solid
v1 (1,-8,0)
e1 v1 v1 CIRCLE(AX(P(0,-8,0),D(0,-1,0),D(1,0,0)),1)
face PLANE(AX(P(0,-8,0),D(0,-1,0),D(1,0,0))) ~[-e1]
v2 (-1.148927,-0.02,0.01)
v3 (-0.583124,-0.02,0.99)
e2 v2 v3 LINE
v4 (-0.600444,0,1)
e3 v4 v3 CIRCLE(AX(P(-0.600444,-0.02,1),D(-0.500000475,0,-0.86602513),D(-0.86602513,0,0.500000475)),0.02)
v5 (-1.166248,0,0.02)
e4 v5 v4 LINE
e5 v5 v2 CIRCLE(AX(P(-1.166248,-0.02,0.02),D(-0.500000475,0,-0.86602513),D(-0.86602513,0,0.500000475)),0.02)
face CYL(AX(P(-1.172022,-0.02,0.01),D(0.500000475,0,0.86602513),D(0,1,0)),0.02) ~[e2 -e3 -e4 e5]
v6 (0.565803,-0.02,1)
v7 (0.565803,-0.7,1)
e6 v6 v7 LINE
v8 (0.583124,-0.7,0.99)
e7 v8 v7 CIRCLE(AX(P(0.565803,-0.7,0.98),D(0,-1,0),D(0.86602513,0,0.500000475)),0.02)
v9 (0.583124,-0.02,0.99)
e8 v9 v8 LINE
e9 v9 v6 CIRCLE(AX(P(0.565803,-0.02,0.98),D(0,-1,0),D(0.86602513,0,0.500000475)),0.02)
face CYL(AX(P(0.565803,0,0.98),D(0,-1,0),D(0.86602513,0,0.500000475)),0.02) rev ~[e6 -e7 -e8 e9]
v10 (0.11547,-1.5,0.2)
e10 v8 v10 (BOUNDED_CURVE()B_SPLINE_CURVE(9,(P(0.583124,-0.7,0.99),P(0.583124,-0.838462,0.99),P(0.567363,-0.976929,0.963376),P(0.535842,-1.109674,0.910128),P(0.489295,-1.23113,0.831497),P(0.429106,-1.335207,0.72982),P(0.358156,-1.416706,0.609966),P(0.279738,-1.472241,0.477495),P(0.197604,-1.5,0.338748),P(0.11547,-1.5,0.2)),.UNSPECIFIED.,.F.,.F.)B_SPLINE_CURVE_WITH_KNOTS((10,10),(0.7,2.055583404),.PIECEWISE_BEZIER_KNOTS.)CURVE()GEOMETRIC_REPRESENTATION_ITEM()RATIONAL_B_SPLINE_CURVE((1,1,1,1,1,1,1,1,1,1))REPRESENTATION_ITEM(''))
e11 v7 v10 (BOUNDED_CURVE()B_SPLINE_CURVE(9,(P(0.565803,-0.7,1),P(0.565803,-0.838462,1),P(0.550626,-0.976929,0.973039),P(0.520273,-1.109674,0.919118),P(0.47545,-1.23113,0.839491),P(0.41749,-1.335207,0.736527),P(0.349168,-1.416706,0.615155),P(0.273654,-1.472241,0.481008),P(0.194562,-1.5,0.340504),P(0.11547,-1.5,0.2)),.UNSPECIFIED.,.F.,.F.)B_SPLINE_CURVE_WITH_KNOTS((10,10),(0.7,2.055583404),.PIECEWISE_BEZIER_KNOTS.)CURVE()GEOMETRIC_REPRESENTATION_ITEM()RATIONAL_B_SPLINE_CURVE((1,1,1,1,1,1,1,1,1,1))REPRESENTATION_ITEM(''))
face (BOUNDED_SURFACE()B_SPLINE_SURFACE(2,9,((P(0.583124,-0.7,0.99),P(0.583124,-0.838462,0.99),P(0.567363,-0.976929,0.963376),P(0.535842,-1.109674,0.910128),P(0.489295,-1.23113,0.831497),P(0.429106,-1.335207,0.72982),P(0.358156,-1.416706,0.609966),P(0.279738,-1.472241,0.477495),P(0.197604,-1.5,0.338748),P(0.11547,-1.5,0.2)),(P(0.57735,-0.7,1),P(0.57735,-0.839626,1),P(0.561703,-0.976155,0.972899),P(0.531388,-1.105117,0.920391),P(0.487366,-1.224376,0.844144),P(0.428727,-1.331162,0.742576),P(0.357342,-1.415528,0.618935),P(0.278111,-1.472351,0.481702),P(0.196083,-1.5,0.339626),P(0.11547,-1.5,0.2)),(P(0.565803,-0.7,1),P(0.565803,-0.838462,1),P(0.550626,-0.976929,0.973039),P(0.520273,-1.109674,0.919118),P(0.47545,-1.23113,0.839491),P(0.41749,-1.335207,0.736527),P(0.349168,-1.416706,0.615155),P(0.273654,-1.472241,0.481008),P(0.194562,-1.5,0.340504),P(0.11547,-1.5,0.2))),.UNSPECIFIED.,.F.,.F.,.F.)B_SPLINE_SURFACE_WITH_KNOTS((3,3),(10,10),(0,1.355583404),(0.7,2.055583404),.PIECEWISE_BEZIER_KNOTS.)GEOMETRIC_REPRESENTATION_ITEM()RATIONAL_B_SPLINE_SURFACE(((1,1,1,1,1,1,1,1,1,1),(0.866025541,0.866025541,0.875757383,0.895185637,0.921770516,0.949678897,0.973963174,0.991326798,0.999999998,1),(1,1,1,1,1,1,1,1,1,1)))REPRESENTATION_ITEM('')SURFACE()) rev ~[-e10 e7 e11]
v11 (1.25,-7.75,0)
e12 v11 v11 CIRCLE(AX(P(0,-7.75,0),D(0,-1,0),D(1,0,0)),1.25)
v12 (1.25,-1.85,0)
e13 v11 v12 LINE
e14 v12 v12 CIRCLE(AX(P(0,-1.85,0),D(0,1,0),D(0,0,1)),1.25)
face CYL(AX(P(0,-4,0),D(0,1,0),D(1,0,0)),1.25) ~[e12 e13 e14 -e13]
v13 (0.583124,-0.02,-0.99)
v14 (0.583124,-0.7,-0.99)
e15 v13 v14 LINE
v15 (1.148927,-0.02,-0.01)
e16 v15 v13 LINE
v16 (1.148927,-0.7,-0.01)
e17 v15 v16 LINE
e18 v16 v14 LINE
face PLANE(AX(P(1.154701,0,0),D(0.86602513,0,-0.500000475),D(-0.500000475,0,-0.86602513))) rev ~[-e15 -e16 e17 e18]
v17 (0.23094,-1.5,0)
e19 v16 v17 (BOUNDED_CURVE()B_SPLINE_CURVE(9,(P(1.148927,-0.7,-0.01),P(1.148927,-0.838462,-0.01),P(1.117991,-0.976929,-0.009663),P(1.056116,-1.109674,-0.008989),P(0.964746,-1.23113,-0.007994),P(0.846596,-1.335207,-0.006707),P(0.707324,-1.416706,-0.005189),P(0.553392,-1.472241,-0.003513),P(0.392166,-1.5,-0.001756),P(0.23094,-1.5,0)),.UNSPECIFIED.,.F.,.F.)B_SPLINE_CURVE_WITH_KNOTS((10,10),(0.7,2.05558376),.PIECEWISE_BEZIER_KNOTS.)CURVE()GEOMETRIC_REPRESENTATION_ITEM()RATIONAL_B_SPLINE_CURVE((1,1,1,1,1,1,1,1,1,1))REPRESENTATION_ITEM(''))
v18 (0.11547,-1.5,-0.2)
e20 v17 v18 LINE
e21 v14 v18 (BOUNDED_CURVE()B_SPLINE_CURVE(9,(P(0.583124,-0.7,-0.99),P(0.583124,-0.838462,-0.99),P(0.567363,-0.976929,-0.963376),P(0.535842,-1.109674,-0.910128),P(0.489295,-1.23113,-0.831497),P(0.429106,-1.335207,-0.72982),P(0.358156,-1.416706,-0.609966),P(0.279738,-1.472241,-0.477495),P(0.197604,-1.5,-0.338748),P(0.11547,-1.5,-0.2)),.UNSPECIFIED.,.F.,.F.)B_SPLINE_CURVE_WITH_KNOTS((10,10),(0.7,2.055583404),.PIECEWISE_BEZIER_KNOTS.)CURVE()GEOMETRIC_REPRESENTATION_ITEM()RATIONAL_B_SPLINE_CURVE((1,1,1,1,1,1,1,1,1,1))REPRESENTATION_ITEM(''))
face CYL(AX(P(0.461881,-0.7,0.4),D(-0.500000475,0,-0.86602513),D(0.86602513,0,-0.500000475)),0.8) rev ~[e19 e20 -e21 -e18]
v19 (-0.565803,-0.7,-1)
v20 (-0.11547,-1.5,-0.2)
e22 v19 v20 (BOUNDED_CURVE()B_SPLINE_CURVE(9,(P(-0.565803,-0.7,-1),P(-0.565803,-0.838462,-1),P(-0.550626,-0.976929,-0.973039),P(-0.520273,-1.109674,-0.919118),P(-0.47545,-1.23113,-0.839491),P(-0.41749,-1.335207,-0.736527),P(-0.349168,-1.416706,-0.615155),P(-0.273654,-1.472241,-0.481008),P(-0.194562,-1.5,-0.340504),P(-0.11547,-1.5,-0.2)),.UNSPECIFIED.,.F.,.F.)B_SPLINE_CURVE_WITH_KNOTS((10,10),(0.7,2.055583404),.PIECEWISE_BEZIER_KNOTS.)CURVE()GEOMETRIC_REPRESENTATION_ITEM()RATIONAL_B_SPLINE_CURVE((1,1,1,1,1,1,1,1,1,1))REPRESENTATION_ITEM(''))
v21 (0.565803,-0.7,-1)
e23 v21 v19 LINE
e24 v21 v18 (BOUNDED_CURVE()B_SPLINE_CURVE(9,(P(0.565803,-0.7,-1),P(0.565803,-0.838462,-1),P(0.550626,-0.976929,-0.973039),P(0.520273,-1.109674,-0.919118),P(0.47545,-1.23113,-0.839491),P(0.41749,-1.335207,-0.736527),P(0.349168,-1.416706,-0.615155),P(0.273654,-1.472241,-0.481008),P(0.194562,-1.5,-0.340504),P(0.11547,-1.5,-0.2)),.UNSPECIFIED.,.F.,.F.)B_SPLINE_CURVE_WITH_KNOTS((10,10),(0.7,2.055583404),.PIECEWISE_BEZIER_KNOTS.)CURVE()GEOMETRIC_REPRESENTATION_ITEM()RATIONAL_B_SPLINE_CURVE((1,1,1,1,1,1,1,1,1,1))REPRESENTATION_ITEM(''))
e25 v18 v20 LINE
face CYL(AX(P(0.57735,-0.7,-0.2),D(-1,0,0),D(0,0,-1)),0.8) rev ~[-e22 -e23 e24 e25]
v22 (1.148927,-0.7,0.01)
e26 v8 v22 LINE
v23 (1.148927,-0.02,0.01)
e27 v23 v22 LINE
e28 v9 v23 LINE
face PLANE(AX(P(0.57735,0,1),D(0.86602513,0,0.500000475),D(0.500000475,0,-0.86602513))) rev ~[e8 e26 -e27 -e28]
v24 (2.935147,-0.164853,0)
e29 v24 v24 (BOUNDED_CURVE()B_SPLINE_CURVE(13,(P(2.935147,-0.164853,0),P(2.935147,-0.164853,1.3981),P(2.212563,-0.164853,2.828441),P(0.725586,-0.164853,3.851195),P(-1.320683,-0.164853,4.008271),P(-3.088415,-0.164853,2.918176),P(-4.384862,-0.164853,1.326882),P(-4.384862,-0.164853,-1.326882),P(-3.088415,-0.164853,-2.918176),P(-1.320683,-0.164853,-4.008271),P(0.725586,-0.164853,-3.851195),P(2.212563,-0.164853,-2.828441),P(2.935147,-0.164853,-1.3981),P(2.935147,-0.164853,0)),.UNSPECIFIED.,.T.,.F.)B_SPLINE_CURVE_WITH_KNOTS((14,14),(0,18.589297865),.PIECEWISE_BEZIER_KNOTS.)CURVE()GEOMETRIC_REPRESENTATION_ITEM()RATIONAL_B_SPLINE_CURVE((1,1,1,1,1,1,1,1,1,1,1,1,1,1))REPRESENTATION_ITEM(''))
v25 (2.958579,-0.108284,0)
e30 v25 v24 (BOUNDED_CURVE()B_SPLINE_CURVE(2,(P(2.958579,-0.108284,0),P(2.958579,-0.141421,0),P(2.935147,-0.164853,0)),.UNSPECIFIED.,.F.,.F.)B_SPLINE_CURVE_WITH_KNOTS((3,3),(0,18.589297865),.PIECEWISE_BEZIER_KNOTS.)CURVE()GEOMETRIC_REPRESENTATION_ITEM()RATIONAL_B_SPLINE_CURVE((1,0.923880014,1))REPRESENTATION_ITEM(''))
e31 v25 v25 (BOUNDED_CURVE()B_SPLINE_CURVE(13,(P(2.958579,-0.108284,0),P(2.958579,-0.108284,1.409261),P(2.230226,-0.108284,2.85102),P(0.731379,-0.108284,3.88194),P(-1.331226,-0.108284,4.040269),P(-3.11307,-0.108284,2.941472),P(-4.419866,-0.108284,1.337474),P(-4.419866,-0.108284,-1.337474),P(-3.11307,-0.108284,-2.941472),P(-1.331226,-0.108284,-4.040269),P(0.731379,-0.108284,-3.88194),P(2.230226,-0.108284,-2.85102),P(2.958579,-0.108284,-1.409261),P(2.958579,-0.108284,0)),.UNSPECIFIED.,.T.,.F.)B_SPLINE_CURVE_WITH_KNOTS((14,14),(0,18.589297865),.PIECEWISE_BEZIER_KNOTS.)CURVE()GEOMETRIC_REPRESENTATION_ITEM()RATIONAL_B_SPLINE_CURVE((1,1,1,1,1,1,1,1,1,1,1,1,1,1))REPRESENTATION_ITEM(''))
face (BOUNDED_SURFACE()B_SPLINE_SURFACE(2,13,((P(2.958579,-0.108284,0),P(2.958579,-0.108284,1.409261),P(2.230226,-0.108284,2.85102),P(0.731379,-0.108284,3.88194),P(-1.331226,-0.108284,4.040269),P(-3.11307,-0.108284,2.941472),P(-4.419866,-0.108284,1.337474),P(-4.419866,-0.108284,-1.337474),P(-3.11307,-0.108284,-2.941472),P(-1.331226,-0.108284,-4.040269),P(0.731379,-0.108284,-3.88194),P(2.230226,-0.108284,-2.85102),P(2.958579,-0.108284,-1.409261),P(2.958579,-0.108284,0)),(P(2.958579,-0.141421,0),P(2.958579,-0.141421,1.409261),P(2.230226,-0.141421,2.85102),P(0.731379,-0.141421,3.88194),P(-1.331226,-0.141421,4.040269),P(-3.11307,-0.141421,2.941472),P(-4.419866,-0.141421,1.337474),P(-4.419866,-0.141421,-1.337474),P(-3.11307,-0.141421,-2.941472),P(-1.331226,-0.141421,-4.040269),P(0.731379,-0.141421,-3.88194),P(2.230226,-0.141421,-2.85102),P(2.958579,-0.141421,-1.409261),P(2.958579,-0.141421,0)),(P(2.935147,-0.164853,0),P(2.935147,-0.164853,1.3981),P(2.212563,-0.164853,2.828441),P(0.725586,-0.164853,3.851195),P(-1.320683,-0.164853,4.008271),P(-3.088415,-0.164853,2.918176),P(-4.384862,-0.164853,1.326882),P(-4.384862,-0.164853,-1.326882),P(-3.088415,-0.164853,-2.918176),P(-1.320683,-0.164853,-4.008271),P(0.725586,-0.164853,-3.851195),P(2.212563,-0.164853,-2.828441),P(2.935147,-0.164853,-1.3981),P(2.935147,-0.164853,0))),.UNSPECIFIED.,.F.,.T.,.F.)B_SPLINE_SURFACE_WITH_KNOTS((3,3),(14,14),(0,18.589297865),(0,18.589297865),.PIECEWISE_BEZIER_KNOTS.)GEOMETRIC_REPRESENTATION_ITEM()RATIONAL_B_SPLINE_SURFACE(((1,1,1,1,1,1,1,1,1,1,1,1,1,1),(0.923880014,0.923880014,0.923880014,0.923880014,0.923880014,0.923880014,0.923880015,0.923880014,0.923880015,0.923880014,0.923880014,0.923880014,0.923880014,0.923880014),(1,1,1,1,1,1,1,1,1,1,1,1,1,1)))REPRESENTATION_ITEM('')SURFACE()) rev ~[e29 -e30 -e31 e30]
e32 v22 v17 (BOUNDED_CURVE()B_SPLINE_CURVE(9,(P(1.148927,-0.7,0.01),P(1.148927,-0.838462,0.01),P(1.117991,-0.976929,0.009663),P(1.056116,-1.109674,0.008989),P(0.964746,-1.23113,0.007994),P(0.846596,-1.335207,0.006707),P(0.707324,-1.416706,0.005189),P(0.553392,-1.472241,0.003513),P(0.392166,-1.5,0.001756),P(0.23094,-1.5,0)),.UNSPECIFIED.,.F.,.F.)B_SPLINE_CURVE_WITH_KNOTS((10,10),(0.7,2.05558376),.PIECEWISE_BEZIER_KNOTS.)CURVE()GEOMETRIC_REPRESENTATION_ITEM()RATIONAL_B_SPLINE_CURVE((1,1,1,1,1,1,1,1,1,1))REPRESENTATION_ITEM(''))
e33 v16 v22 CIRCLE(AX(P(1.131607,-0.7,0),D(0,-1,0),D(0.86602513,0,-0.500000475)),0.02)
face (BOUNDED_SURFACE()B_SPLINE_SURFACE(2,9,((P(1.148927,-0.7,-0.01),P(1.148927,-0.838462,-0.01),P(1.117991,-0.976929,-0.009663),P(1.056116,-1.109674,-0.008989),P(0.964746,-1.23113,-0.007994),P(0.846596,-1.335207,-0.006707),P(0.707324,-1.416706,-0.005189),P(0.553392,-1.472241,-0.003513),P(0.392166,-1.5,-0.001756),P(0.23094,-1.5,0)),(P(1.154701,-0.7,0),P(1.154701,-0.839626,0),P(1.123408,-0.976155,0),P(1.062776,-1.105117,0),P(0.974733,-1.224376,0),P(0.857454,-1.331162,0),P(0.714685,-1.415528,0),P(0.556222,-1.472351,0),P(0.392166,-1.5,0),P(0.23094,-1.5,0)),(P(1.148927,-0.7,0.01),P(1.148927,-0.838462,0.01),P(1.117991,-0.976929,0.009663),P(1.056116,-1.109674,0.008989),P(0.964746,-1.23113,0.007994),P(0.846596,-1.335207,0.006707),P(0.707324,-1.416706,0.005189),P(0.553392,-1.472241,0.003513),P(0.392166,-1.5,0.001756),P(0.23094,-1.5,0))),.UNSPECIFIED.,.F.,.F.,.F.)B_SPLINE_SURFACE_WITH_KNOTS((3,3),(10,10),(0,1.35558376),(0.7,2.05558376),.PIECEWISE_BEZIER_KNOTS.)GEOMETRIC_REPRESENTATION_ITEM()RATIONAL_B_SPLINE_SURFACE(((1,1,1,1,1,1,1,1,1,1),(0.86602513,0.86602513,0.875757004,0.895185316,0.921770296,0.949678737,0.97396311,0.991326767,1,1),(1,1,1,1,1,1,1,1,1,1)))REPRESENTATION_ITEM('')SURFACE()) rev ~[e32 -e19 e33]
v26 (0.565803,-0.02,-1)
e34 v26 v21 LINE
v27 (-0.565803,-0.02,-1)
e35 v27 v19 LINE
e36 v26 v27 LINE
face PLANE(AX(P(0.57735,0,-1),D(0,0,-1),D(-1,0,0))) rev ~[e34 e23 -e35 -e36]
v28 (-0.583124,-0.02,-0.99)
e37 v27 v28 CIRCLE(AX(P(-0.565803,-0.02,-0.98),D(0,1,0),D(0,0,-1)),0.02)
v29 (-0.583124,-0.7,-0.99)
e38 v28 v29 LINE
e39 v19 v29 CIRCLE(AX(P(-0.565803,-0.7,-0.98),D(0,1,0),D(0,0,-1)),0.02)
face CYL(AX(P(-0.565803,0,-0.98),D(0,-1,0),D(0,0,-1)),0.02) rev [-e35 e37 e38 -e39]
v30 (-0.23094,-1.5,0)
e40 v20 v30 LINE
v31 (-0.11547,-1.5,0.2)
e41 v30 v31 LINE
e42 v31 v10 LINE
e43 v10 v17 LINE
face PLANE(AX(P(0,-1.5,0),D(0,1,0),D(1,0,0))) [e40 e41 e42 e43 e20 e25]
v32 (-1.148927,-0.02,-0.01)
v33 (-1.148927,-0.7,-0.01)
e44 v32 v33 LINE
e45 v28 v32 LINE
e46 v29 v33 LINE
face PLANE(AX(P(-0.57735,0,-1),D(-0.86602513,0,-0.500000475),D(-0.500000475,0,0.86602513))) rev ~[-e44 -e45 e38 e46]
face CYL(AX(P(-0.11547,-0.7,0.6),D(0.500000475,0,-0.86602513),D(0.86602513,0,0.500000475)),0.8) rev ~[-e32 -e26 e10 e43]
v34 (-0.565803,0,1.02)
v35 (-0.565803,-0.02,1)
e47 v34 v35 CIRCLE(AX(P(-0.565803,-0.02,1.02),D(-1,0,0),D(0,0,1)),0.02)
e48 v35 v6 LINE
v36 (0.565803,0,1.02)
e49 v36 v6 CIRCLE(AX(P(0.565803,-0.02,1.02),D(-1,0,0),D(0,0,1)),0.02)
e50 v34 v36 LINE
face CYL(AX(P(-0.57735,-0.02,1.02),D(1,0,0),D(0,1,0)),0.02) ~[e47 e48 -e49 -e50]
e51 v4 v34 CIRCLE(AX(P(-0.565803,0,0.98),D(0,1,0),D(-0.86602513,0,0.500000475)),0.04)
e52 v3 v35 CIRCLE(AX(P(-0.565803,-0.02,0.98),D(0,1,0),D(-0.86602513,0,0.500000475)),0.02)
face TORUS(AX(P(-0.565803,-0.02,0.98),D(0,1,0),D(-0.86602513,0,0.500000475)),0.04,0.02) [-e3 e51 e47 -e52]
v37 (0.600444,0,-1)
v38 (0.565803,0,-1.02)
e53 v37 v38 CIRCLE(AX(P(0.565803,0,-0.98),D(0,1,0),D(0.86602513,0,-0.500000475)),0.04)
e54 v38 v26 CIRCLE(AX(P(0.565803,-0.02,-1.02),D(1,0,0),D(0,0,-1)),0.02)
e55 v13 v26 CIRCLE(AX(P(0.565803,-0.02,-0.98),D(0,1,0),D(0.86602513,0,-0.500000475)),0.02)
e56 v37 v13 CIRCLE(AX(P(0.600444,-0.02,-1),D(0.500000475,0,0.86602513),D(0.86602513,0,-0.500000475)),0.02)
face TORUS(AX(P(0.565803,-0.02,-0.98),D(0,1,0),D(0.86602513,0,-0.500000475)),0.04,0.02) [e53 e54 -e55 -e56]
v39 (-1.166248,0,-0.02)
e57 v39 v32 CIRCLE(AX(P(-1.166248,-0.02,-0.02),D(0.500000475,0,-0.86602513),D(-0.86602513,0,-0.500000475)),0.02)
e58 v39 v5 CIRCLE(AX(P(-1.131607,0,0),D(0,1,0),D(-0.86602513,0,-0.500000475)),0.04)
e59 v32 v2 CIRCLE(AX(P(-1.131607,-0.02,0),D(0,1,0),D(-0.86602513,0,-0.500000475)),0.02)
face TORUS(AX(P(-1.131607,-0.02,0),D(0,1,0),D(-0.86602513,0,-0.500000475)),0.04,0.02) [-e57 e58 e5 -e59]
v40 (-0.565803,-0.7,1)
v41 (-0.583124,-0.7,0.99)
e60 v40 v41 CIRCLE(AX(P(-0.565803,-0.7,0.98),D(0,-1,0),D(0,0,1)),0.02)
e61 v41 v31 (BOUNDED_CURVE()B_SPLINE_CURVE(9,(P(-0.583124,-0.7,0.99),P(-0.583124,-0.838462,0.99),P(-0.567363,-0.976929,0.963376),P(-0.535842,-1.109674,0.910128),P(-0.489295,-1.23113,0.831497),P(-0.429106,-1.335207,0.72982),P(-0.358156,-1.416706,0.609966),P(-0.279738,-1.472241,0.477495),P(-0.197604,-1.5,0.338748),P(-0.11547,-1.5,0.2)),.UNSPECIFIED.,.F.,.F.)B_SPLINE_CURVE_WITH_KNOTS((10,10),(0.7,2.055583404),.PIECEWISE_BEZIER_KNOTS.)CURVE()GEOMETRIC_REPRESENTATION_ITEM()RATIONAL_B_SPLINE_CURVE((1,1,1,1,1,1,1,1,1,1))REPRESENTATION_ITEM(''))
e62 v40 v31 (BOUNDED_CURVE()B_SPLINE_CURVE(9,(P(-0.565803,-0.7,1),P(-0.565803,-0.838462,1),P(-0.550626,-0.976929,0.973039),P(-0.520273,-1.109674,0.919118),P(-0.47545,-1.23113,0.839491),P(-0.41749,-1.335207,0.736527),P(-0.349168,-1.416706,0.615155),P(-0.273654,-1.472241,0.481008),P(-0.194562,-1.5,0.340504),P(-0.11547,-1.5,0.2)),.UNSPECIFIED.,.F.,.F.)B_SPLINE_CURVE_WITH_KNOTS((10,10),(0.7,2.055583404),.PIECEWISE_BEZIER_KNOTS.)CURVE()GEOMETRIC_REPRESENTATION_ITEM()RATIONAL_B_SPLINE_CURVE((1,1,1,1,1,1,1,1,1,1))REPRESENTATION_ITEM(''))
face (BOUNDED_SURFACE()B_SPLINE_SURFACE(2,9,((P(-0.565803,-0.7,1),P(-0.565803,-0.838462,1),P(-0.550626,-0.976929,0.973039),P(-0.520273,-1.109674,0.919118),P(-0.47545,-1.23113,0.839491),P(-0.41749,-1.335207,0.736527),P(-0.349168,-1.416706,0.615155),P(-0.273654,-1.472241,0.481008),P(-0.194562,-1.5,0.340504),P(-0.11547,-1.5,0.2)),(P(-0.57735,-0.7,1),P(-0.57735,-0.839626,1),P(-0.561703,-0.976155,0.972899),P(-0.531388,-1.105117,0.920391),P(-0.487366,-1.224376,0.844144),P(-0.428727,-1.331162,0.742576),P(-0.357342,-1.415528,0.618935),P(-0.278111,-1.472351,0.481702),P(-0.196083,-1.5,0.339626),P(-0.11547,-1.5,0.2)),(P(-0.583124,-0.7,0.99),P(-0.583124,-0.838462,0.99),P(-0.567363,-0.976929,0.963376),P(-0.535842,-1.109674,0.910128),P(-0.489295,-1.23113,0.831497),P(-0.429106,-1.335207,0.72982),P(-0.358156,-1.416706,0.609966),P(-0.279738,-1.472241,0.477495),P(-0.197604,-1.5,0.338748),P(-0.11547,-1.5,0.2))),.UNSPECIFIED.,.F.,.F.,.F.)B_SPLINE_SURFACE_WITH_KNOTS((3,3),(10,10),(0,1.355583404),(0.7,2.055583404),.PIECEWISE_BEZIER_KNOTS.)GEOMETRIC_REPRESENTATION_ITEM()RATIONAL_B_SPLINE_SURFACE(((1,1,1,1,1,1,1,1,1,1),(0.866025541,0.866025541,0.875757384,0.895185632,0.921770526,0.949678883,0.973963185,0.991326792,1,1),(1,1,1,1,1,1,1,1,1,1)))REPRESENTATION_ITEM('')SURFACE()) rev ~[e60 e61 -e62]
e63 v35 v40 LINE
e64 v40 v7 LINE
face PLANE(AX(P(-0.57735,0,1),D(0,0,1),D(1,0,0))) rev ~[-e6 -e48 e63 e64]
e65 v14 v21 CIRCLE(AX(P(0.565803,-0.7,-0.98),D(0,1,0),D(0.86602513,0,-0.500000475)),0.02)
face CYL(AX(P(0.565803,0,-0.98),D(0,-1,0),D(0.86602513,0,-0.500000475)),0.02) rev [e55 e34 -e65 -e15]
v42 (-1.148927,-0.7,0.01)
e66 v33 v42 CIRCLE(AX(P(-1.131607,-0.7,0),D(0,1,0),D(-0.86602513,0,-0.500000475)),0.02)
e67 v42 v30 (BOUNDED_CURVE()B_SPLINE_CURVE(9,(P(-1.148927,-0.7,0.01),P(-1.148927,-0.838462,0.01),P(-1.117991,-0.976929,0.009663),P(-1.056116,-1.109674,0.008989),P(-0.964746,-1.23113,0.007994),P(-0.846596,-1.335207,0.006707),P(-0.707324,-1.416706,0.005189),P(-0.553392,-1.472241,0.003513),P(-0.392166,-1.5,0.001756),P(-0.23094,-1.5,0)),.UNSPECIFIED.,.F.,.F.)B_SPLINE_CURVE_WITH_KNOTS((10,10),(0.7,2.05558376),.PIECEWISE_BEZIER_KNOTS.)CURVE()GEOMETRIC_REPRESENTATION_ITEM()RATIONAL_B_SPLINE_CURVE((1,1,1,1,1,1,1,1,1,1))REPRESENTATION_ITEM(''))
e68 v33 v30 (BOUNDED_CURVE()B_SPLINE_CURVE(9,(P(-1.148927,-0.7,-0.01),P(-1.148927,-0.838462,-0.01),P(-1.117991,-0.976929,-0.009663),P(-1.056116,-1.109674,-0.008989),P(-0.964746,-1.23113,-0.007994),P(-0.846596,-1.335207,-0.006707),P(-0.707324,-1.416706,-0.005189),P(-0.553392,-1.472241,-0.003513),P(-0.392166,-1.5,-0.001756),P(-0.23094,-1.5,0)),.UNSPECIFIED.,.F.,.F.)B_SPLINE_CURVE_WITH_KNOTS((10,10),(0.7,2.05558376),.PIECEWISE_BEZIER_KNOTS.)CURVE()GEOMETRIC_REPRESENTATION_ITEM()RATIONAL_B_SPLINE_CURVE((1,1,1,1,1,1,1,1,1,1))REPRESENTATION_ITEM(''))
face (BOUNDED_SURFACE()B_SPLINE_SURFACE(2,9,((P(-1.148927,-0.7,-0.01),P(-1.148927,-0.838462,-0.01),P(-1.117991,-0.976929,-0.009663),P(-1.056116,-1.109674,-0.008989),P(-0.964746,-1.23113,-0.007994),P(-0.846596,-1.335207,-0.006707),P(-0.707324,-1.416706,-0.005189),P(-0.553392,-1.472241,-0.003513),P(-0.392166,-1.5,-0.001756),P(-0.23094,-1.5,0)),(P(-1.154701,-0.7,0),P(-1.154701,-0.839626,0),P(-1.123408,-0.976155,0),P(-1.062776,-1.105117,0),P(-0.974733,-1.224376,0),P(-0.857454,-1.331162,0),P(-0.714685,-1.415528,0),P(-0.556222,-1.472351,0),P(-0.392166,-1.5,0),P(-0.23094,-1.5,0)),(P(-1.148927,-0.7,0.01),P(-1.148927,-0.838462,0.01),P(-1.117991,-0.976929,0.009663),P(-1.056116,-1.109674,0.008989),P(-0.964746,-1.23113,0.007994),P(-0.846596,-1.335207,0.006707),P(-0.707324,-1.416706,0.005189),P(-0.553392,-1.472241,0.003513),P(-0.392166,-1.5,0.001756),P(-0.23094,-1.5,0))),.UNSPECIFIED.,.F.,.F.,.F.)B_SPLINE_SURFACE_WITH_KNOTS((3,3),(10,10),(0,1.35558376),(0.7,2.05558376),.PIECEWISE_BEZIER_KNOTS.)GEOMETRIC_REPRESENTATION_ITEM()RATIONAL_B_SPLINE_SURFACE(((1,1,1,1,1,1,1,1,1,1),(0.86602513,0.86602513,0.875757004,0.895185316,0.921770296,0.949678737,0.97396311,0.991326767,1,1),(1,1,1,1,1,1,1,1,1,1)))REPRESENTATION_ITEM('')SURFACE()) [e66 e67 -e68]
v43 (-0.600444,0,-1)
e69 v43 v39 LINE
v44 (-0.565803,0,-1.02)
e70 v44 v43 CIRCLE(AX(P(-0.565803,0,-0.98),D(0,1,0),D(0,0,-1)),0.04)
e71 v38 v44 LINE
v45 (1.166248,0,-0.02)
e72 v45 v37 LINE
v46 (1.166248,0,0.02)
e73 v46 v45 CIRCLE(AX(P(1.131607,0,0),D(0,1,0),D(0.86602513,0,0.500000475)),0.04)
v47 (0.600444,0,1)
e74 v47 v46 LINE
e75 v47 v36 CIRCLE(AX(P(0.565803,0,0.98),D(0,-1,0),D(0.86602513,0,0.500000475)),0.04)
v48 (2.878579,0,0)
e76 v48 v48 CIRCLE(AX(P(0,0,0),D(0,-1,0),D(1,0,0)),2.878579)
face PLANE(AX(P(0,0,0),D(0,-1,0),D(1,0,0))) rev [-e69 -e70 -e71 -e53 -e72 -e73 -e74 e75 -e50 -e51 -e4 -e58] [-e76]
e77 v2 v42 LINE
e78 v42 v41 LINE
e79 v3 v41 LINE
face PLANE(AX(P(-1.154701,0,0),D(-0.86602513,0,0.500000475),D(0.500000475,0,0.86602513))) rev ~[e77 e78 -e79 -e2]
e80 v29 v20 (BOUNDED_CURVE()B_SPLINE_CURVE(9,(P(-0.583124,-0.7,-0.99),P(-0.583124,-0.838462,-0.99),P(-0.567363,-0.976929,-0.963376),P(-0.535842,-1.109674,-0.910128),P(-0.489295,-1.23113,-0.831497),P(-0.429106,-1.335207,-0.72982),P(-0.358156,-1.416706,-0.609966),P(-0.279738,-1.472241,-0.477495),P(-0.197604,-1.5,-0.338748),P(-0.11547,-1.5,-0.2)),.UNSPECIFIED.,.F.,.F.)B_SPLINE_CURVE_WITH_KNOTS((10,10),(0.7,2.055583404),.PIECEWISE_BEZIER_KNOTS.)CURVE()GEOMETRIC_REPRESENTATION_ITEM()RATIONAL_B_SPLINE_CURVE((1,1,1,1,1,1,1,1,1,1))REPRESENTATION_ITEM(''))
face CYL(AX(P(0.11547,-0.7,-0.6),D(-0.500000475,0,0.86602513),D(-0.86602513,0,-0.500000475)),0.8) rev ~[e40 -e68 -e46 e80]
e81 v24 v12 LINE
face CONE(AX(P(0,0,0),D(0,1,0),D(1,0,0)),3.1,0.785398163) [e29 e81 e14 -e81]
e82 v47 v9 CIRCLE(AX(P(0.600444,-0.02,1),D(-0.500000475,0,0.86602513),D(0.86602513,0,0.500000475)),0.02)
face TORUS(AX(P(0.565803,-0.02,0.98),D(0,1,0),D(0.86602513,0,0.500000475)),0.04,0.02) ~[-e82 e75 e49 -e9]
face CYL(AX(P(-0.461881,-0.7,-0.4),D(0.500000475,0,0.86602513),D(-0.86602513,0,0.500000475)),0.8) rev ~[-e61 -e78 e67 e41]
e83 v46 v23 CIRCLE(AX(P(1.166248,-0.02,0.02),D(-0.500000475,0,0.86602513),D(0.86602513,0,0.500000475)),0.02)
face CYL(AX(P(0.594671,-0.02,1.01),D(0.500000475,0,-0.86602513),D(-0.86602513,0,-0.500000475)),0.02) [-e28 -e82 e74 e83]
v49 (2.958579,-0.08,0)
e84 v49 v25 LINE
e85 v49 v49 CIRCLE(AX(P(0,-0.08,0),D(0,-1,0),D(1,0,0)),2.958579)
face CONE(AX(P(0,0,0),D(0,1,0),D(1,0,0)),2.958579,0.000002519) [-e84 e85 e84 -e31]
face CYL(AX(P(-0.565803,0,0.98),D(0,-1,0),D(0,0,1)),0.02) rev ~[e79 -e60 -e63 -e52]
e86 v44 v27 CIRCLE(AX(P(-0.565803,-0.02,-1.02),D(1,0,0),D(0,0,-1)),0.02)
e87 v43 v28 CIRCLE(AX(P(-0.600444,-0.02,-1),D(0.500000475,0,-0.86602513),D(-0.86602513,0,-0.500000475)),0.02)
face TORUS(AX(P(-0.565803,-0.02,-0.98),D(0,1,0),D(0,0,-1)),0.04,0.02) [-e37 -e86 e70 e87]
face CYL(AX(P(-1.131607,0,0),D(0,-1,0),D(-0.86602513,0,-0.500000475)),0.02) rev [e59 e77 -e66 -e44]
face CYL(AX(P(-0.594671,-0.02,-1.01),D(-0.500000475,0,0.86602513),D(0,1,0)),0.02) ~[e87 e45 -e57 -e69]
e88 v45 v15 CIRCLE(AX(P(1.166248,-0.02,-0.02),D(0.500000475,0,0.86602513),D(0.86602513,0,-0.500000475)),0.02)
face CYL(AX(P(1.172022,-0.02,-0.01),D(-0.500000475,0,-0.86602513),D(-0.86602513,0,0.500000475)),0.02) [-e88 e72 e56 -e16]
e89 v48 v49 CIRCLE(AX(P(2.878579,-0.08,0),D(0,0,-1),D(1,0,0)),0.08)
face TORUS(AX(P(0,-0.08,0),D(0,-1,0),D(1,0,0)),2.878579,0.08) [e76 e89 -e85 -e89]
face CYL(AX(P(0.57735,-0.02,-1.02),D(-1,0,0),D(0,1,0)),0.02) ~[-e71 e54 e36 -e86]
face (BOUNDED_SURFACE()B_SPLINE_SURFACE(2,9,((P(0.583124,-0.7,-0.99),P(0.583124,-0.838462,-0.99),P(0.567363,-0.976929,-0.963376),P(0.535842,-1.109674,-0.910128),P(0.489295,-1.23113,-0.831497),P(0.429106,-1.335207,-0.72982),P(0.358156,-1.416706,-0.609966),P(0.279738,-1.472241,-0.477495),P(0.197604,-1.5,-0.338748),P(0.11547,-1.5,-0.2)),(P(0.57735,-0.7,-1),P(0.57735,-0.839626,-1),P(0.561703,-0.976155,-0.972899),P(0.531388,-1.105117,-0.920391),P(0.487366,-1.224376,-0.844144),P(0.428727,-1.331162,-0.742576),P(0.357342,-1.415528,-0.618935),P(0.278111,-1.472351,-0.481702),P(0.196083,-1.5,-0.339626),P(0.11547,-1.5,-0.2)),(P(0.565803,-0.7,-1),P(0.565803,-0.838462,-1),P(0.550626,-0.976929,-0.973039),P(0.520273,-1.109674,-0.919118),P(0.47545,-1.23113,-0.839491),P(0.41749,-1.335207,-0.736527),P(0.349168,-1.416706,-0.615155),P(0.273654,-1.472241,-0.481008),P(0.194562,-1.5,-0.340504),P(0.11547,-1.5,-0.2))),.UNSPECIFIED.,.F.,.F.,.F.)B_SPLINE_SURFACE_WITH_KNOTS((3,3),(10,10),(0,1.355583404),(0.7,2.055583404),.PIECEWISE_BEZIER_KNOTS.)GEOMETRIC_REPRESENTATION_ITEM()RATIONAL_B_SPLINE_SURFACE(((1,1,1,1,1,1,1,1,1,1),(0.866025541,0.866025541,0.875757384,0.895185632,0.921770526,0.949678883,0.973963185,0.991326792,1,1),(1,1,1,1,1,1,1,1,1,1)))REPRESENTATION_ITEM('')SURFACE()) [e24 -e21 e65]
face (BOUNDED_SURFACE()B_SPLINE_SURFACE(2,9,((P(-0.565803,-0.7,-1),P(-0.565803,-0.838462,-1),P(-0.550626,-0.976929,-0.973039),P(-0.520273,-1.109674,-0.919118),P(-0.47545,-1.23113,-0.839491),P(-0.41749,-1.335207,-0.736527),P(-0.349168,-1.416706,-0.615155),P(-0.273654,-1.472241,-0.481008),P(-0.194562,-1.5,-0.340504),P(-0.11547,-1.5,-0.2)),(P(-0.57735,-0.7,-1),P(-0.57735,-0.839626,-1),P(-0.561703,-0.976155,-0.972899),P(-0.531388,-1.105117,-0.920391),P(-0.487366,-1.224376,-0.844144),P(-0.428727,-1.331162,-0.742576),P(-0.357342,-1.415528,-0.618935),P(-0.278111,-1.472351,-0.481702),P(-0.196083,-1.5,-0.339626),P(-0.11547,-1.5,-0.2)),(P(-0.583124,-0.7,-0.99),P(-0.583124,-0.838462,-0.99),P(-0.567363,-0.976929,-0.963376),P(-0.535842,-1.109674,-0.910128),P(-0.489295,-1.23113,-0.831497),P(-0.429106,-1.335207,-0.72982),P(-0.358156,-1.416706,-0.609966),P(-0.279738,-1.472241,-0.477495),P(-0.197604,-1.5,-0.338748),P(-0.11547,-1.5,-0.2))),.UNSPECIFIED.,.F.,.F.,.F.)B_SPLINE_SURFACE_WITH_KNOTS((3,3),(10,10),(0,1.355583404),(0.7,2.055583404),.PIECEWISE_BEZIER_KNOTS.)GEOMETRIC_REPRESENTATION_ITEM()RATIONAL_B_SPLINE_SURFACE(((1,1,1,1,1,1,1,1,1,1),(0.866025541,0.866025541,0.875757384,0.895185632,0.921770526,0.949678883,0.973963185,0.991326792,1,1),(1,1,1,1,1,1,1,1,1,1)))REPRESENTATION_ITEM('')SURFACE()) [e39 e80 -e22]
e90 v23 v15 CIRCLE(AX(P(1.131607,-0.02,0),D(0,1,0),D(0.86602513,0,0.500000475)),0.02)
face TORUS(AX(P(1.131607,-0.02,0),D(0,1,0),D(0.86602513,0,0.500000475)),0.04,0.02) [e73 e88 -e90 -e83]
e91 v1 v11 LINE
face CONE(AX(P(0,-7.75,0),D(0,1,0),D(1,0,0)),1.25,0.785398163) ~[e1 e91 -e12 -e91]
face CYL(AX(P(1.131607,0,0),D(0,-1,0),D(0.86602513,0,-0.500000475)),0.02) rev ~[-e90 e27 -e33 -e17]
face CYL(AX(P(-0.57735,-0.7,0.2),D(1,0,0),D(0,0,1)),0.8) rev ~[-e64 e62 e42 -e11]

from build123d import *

# Parameters (mm, degrees)
SKETCH8_W          = 1.25
SKETCH8_H          = 8
CHAMFER1_SIZE      = 0.25
CHAMFER2_SIZE2     = 0.2
CHAMFER2_SIZE      = 0.141421
FILLET1_R          = 0.08
CUT_EXTRUDE1_DEPTH = 1.5
FILLET2_R          = 0.8
FILLET5_R          = 0.02


with BuildPart() as part:
    # Sketch8 → Revolve1 (revolve)
    with BuildSketch(Plane.XY):
        with Locations((0.625, -4)):
            Rectangle(SKETCH8_W, SKETCH8_H)
    revolve(axis=Axis((0, 0, 0), (0, -1, 0)))

    # Chamfer1
    chamfer1_edges = [part.edges().sort_by_distance(p)[0] for p in [
        (-1.25, -8, 0),
    ]]
    chamfer(chamfer1_edges, length=CHAMFER1_SIZE)

    # Sketch13 → Revolve2 (revolve)
    with BuildSketch(Plane.XY):
        Polygon((0, 0), (3.1, 0), (0, -3.1), align=None)
    revolve(axis=Axis((0, 0, 0), (0, -1, 0)))

    # Chamfer2
    chamfer2_edges = [part.edges().sort_by_distance(p)[0] for p in [
        (-3.1, 0, 0),
    ]]
    chamfer(chamfer2_edges, length=CHAMFER2_SIZE, length2=CHAMFER2_SIZE2)

    # Fillet1
    fillet1_edges = [part.edges().sort_by_distance(p)[0] for p in [
        (-2.958578, 0, 0),
        (-2.958578, -0.141421, 0),
    ]]
    fillet(fillet1_edges, radius=FILLET1_R)

    # Sketch14 → Cut-Extrude1 (cut)
    with BuildSketch(Plane(origin=(0, 0, 0), x_dir=(1, 0, 0), z_dir=(0, 1, 0))):
        Polygon((1.154701, 0), (0.57735, 1), (-0.57735, 1), (-1.154701, 0), (-0.57735, -1), (0.57735, -1), align=None)
    extrude(amount=-CUT_EXTRUDE1_DEPTH, mode=Mode.SUBTRACT)

    # Fillet2
    fillet2_edges = [part.edges().sort_by_distance(p)[0] for p in [
        (0.866025, -1.5, 0.5),
        (0, -1.5, 1),
        (-0.866025, -1.5, 0.5),
        (-0.866025, -1.5, -0.5),
        (0, -1.5, -1),
        (0.866025, -1.5, -0.5),
    ]]
    fillet(fillet2_edges, radius=FILLET2_R)

    # Fillet5
    fillet5_edges = [part.edges().sort_by_distance(p)[0] for p in [
        (0.866025, 0, 0.5),
        (0.866025, 0, -0.5),
        (0, 0, -1),
        (-0.866025, 0, -0.5),
        (-0.866025, 0, 0.5),
        (0, 0, 1),
        (0.57735, -0.35, 1),
        (-0.57735, -0.35, 1),
        (-1.154701, -0.35, 0),
        (-0.57735, -0.35, -1),
        (0.57735, -0.35, -1),
        (1.154701, -0.35, 0),
        (-0.430209, -1.285507, -0.745143),
        (0.430209, -1.285507, -0.745143),
        (-0.860417, -1.285507, 0),
        (0.860417, -1.285507, 0),
        (-0.430209, -1.285507, 0.745143),
        (0.430209, -1.285507, 0.745143),
    ]]
    fillet(fillet5_edges, radius=FILLET5_R)


solid = part.part
